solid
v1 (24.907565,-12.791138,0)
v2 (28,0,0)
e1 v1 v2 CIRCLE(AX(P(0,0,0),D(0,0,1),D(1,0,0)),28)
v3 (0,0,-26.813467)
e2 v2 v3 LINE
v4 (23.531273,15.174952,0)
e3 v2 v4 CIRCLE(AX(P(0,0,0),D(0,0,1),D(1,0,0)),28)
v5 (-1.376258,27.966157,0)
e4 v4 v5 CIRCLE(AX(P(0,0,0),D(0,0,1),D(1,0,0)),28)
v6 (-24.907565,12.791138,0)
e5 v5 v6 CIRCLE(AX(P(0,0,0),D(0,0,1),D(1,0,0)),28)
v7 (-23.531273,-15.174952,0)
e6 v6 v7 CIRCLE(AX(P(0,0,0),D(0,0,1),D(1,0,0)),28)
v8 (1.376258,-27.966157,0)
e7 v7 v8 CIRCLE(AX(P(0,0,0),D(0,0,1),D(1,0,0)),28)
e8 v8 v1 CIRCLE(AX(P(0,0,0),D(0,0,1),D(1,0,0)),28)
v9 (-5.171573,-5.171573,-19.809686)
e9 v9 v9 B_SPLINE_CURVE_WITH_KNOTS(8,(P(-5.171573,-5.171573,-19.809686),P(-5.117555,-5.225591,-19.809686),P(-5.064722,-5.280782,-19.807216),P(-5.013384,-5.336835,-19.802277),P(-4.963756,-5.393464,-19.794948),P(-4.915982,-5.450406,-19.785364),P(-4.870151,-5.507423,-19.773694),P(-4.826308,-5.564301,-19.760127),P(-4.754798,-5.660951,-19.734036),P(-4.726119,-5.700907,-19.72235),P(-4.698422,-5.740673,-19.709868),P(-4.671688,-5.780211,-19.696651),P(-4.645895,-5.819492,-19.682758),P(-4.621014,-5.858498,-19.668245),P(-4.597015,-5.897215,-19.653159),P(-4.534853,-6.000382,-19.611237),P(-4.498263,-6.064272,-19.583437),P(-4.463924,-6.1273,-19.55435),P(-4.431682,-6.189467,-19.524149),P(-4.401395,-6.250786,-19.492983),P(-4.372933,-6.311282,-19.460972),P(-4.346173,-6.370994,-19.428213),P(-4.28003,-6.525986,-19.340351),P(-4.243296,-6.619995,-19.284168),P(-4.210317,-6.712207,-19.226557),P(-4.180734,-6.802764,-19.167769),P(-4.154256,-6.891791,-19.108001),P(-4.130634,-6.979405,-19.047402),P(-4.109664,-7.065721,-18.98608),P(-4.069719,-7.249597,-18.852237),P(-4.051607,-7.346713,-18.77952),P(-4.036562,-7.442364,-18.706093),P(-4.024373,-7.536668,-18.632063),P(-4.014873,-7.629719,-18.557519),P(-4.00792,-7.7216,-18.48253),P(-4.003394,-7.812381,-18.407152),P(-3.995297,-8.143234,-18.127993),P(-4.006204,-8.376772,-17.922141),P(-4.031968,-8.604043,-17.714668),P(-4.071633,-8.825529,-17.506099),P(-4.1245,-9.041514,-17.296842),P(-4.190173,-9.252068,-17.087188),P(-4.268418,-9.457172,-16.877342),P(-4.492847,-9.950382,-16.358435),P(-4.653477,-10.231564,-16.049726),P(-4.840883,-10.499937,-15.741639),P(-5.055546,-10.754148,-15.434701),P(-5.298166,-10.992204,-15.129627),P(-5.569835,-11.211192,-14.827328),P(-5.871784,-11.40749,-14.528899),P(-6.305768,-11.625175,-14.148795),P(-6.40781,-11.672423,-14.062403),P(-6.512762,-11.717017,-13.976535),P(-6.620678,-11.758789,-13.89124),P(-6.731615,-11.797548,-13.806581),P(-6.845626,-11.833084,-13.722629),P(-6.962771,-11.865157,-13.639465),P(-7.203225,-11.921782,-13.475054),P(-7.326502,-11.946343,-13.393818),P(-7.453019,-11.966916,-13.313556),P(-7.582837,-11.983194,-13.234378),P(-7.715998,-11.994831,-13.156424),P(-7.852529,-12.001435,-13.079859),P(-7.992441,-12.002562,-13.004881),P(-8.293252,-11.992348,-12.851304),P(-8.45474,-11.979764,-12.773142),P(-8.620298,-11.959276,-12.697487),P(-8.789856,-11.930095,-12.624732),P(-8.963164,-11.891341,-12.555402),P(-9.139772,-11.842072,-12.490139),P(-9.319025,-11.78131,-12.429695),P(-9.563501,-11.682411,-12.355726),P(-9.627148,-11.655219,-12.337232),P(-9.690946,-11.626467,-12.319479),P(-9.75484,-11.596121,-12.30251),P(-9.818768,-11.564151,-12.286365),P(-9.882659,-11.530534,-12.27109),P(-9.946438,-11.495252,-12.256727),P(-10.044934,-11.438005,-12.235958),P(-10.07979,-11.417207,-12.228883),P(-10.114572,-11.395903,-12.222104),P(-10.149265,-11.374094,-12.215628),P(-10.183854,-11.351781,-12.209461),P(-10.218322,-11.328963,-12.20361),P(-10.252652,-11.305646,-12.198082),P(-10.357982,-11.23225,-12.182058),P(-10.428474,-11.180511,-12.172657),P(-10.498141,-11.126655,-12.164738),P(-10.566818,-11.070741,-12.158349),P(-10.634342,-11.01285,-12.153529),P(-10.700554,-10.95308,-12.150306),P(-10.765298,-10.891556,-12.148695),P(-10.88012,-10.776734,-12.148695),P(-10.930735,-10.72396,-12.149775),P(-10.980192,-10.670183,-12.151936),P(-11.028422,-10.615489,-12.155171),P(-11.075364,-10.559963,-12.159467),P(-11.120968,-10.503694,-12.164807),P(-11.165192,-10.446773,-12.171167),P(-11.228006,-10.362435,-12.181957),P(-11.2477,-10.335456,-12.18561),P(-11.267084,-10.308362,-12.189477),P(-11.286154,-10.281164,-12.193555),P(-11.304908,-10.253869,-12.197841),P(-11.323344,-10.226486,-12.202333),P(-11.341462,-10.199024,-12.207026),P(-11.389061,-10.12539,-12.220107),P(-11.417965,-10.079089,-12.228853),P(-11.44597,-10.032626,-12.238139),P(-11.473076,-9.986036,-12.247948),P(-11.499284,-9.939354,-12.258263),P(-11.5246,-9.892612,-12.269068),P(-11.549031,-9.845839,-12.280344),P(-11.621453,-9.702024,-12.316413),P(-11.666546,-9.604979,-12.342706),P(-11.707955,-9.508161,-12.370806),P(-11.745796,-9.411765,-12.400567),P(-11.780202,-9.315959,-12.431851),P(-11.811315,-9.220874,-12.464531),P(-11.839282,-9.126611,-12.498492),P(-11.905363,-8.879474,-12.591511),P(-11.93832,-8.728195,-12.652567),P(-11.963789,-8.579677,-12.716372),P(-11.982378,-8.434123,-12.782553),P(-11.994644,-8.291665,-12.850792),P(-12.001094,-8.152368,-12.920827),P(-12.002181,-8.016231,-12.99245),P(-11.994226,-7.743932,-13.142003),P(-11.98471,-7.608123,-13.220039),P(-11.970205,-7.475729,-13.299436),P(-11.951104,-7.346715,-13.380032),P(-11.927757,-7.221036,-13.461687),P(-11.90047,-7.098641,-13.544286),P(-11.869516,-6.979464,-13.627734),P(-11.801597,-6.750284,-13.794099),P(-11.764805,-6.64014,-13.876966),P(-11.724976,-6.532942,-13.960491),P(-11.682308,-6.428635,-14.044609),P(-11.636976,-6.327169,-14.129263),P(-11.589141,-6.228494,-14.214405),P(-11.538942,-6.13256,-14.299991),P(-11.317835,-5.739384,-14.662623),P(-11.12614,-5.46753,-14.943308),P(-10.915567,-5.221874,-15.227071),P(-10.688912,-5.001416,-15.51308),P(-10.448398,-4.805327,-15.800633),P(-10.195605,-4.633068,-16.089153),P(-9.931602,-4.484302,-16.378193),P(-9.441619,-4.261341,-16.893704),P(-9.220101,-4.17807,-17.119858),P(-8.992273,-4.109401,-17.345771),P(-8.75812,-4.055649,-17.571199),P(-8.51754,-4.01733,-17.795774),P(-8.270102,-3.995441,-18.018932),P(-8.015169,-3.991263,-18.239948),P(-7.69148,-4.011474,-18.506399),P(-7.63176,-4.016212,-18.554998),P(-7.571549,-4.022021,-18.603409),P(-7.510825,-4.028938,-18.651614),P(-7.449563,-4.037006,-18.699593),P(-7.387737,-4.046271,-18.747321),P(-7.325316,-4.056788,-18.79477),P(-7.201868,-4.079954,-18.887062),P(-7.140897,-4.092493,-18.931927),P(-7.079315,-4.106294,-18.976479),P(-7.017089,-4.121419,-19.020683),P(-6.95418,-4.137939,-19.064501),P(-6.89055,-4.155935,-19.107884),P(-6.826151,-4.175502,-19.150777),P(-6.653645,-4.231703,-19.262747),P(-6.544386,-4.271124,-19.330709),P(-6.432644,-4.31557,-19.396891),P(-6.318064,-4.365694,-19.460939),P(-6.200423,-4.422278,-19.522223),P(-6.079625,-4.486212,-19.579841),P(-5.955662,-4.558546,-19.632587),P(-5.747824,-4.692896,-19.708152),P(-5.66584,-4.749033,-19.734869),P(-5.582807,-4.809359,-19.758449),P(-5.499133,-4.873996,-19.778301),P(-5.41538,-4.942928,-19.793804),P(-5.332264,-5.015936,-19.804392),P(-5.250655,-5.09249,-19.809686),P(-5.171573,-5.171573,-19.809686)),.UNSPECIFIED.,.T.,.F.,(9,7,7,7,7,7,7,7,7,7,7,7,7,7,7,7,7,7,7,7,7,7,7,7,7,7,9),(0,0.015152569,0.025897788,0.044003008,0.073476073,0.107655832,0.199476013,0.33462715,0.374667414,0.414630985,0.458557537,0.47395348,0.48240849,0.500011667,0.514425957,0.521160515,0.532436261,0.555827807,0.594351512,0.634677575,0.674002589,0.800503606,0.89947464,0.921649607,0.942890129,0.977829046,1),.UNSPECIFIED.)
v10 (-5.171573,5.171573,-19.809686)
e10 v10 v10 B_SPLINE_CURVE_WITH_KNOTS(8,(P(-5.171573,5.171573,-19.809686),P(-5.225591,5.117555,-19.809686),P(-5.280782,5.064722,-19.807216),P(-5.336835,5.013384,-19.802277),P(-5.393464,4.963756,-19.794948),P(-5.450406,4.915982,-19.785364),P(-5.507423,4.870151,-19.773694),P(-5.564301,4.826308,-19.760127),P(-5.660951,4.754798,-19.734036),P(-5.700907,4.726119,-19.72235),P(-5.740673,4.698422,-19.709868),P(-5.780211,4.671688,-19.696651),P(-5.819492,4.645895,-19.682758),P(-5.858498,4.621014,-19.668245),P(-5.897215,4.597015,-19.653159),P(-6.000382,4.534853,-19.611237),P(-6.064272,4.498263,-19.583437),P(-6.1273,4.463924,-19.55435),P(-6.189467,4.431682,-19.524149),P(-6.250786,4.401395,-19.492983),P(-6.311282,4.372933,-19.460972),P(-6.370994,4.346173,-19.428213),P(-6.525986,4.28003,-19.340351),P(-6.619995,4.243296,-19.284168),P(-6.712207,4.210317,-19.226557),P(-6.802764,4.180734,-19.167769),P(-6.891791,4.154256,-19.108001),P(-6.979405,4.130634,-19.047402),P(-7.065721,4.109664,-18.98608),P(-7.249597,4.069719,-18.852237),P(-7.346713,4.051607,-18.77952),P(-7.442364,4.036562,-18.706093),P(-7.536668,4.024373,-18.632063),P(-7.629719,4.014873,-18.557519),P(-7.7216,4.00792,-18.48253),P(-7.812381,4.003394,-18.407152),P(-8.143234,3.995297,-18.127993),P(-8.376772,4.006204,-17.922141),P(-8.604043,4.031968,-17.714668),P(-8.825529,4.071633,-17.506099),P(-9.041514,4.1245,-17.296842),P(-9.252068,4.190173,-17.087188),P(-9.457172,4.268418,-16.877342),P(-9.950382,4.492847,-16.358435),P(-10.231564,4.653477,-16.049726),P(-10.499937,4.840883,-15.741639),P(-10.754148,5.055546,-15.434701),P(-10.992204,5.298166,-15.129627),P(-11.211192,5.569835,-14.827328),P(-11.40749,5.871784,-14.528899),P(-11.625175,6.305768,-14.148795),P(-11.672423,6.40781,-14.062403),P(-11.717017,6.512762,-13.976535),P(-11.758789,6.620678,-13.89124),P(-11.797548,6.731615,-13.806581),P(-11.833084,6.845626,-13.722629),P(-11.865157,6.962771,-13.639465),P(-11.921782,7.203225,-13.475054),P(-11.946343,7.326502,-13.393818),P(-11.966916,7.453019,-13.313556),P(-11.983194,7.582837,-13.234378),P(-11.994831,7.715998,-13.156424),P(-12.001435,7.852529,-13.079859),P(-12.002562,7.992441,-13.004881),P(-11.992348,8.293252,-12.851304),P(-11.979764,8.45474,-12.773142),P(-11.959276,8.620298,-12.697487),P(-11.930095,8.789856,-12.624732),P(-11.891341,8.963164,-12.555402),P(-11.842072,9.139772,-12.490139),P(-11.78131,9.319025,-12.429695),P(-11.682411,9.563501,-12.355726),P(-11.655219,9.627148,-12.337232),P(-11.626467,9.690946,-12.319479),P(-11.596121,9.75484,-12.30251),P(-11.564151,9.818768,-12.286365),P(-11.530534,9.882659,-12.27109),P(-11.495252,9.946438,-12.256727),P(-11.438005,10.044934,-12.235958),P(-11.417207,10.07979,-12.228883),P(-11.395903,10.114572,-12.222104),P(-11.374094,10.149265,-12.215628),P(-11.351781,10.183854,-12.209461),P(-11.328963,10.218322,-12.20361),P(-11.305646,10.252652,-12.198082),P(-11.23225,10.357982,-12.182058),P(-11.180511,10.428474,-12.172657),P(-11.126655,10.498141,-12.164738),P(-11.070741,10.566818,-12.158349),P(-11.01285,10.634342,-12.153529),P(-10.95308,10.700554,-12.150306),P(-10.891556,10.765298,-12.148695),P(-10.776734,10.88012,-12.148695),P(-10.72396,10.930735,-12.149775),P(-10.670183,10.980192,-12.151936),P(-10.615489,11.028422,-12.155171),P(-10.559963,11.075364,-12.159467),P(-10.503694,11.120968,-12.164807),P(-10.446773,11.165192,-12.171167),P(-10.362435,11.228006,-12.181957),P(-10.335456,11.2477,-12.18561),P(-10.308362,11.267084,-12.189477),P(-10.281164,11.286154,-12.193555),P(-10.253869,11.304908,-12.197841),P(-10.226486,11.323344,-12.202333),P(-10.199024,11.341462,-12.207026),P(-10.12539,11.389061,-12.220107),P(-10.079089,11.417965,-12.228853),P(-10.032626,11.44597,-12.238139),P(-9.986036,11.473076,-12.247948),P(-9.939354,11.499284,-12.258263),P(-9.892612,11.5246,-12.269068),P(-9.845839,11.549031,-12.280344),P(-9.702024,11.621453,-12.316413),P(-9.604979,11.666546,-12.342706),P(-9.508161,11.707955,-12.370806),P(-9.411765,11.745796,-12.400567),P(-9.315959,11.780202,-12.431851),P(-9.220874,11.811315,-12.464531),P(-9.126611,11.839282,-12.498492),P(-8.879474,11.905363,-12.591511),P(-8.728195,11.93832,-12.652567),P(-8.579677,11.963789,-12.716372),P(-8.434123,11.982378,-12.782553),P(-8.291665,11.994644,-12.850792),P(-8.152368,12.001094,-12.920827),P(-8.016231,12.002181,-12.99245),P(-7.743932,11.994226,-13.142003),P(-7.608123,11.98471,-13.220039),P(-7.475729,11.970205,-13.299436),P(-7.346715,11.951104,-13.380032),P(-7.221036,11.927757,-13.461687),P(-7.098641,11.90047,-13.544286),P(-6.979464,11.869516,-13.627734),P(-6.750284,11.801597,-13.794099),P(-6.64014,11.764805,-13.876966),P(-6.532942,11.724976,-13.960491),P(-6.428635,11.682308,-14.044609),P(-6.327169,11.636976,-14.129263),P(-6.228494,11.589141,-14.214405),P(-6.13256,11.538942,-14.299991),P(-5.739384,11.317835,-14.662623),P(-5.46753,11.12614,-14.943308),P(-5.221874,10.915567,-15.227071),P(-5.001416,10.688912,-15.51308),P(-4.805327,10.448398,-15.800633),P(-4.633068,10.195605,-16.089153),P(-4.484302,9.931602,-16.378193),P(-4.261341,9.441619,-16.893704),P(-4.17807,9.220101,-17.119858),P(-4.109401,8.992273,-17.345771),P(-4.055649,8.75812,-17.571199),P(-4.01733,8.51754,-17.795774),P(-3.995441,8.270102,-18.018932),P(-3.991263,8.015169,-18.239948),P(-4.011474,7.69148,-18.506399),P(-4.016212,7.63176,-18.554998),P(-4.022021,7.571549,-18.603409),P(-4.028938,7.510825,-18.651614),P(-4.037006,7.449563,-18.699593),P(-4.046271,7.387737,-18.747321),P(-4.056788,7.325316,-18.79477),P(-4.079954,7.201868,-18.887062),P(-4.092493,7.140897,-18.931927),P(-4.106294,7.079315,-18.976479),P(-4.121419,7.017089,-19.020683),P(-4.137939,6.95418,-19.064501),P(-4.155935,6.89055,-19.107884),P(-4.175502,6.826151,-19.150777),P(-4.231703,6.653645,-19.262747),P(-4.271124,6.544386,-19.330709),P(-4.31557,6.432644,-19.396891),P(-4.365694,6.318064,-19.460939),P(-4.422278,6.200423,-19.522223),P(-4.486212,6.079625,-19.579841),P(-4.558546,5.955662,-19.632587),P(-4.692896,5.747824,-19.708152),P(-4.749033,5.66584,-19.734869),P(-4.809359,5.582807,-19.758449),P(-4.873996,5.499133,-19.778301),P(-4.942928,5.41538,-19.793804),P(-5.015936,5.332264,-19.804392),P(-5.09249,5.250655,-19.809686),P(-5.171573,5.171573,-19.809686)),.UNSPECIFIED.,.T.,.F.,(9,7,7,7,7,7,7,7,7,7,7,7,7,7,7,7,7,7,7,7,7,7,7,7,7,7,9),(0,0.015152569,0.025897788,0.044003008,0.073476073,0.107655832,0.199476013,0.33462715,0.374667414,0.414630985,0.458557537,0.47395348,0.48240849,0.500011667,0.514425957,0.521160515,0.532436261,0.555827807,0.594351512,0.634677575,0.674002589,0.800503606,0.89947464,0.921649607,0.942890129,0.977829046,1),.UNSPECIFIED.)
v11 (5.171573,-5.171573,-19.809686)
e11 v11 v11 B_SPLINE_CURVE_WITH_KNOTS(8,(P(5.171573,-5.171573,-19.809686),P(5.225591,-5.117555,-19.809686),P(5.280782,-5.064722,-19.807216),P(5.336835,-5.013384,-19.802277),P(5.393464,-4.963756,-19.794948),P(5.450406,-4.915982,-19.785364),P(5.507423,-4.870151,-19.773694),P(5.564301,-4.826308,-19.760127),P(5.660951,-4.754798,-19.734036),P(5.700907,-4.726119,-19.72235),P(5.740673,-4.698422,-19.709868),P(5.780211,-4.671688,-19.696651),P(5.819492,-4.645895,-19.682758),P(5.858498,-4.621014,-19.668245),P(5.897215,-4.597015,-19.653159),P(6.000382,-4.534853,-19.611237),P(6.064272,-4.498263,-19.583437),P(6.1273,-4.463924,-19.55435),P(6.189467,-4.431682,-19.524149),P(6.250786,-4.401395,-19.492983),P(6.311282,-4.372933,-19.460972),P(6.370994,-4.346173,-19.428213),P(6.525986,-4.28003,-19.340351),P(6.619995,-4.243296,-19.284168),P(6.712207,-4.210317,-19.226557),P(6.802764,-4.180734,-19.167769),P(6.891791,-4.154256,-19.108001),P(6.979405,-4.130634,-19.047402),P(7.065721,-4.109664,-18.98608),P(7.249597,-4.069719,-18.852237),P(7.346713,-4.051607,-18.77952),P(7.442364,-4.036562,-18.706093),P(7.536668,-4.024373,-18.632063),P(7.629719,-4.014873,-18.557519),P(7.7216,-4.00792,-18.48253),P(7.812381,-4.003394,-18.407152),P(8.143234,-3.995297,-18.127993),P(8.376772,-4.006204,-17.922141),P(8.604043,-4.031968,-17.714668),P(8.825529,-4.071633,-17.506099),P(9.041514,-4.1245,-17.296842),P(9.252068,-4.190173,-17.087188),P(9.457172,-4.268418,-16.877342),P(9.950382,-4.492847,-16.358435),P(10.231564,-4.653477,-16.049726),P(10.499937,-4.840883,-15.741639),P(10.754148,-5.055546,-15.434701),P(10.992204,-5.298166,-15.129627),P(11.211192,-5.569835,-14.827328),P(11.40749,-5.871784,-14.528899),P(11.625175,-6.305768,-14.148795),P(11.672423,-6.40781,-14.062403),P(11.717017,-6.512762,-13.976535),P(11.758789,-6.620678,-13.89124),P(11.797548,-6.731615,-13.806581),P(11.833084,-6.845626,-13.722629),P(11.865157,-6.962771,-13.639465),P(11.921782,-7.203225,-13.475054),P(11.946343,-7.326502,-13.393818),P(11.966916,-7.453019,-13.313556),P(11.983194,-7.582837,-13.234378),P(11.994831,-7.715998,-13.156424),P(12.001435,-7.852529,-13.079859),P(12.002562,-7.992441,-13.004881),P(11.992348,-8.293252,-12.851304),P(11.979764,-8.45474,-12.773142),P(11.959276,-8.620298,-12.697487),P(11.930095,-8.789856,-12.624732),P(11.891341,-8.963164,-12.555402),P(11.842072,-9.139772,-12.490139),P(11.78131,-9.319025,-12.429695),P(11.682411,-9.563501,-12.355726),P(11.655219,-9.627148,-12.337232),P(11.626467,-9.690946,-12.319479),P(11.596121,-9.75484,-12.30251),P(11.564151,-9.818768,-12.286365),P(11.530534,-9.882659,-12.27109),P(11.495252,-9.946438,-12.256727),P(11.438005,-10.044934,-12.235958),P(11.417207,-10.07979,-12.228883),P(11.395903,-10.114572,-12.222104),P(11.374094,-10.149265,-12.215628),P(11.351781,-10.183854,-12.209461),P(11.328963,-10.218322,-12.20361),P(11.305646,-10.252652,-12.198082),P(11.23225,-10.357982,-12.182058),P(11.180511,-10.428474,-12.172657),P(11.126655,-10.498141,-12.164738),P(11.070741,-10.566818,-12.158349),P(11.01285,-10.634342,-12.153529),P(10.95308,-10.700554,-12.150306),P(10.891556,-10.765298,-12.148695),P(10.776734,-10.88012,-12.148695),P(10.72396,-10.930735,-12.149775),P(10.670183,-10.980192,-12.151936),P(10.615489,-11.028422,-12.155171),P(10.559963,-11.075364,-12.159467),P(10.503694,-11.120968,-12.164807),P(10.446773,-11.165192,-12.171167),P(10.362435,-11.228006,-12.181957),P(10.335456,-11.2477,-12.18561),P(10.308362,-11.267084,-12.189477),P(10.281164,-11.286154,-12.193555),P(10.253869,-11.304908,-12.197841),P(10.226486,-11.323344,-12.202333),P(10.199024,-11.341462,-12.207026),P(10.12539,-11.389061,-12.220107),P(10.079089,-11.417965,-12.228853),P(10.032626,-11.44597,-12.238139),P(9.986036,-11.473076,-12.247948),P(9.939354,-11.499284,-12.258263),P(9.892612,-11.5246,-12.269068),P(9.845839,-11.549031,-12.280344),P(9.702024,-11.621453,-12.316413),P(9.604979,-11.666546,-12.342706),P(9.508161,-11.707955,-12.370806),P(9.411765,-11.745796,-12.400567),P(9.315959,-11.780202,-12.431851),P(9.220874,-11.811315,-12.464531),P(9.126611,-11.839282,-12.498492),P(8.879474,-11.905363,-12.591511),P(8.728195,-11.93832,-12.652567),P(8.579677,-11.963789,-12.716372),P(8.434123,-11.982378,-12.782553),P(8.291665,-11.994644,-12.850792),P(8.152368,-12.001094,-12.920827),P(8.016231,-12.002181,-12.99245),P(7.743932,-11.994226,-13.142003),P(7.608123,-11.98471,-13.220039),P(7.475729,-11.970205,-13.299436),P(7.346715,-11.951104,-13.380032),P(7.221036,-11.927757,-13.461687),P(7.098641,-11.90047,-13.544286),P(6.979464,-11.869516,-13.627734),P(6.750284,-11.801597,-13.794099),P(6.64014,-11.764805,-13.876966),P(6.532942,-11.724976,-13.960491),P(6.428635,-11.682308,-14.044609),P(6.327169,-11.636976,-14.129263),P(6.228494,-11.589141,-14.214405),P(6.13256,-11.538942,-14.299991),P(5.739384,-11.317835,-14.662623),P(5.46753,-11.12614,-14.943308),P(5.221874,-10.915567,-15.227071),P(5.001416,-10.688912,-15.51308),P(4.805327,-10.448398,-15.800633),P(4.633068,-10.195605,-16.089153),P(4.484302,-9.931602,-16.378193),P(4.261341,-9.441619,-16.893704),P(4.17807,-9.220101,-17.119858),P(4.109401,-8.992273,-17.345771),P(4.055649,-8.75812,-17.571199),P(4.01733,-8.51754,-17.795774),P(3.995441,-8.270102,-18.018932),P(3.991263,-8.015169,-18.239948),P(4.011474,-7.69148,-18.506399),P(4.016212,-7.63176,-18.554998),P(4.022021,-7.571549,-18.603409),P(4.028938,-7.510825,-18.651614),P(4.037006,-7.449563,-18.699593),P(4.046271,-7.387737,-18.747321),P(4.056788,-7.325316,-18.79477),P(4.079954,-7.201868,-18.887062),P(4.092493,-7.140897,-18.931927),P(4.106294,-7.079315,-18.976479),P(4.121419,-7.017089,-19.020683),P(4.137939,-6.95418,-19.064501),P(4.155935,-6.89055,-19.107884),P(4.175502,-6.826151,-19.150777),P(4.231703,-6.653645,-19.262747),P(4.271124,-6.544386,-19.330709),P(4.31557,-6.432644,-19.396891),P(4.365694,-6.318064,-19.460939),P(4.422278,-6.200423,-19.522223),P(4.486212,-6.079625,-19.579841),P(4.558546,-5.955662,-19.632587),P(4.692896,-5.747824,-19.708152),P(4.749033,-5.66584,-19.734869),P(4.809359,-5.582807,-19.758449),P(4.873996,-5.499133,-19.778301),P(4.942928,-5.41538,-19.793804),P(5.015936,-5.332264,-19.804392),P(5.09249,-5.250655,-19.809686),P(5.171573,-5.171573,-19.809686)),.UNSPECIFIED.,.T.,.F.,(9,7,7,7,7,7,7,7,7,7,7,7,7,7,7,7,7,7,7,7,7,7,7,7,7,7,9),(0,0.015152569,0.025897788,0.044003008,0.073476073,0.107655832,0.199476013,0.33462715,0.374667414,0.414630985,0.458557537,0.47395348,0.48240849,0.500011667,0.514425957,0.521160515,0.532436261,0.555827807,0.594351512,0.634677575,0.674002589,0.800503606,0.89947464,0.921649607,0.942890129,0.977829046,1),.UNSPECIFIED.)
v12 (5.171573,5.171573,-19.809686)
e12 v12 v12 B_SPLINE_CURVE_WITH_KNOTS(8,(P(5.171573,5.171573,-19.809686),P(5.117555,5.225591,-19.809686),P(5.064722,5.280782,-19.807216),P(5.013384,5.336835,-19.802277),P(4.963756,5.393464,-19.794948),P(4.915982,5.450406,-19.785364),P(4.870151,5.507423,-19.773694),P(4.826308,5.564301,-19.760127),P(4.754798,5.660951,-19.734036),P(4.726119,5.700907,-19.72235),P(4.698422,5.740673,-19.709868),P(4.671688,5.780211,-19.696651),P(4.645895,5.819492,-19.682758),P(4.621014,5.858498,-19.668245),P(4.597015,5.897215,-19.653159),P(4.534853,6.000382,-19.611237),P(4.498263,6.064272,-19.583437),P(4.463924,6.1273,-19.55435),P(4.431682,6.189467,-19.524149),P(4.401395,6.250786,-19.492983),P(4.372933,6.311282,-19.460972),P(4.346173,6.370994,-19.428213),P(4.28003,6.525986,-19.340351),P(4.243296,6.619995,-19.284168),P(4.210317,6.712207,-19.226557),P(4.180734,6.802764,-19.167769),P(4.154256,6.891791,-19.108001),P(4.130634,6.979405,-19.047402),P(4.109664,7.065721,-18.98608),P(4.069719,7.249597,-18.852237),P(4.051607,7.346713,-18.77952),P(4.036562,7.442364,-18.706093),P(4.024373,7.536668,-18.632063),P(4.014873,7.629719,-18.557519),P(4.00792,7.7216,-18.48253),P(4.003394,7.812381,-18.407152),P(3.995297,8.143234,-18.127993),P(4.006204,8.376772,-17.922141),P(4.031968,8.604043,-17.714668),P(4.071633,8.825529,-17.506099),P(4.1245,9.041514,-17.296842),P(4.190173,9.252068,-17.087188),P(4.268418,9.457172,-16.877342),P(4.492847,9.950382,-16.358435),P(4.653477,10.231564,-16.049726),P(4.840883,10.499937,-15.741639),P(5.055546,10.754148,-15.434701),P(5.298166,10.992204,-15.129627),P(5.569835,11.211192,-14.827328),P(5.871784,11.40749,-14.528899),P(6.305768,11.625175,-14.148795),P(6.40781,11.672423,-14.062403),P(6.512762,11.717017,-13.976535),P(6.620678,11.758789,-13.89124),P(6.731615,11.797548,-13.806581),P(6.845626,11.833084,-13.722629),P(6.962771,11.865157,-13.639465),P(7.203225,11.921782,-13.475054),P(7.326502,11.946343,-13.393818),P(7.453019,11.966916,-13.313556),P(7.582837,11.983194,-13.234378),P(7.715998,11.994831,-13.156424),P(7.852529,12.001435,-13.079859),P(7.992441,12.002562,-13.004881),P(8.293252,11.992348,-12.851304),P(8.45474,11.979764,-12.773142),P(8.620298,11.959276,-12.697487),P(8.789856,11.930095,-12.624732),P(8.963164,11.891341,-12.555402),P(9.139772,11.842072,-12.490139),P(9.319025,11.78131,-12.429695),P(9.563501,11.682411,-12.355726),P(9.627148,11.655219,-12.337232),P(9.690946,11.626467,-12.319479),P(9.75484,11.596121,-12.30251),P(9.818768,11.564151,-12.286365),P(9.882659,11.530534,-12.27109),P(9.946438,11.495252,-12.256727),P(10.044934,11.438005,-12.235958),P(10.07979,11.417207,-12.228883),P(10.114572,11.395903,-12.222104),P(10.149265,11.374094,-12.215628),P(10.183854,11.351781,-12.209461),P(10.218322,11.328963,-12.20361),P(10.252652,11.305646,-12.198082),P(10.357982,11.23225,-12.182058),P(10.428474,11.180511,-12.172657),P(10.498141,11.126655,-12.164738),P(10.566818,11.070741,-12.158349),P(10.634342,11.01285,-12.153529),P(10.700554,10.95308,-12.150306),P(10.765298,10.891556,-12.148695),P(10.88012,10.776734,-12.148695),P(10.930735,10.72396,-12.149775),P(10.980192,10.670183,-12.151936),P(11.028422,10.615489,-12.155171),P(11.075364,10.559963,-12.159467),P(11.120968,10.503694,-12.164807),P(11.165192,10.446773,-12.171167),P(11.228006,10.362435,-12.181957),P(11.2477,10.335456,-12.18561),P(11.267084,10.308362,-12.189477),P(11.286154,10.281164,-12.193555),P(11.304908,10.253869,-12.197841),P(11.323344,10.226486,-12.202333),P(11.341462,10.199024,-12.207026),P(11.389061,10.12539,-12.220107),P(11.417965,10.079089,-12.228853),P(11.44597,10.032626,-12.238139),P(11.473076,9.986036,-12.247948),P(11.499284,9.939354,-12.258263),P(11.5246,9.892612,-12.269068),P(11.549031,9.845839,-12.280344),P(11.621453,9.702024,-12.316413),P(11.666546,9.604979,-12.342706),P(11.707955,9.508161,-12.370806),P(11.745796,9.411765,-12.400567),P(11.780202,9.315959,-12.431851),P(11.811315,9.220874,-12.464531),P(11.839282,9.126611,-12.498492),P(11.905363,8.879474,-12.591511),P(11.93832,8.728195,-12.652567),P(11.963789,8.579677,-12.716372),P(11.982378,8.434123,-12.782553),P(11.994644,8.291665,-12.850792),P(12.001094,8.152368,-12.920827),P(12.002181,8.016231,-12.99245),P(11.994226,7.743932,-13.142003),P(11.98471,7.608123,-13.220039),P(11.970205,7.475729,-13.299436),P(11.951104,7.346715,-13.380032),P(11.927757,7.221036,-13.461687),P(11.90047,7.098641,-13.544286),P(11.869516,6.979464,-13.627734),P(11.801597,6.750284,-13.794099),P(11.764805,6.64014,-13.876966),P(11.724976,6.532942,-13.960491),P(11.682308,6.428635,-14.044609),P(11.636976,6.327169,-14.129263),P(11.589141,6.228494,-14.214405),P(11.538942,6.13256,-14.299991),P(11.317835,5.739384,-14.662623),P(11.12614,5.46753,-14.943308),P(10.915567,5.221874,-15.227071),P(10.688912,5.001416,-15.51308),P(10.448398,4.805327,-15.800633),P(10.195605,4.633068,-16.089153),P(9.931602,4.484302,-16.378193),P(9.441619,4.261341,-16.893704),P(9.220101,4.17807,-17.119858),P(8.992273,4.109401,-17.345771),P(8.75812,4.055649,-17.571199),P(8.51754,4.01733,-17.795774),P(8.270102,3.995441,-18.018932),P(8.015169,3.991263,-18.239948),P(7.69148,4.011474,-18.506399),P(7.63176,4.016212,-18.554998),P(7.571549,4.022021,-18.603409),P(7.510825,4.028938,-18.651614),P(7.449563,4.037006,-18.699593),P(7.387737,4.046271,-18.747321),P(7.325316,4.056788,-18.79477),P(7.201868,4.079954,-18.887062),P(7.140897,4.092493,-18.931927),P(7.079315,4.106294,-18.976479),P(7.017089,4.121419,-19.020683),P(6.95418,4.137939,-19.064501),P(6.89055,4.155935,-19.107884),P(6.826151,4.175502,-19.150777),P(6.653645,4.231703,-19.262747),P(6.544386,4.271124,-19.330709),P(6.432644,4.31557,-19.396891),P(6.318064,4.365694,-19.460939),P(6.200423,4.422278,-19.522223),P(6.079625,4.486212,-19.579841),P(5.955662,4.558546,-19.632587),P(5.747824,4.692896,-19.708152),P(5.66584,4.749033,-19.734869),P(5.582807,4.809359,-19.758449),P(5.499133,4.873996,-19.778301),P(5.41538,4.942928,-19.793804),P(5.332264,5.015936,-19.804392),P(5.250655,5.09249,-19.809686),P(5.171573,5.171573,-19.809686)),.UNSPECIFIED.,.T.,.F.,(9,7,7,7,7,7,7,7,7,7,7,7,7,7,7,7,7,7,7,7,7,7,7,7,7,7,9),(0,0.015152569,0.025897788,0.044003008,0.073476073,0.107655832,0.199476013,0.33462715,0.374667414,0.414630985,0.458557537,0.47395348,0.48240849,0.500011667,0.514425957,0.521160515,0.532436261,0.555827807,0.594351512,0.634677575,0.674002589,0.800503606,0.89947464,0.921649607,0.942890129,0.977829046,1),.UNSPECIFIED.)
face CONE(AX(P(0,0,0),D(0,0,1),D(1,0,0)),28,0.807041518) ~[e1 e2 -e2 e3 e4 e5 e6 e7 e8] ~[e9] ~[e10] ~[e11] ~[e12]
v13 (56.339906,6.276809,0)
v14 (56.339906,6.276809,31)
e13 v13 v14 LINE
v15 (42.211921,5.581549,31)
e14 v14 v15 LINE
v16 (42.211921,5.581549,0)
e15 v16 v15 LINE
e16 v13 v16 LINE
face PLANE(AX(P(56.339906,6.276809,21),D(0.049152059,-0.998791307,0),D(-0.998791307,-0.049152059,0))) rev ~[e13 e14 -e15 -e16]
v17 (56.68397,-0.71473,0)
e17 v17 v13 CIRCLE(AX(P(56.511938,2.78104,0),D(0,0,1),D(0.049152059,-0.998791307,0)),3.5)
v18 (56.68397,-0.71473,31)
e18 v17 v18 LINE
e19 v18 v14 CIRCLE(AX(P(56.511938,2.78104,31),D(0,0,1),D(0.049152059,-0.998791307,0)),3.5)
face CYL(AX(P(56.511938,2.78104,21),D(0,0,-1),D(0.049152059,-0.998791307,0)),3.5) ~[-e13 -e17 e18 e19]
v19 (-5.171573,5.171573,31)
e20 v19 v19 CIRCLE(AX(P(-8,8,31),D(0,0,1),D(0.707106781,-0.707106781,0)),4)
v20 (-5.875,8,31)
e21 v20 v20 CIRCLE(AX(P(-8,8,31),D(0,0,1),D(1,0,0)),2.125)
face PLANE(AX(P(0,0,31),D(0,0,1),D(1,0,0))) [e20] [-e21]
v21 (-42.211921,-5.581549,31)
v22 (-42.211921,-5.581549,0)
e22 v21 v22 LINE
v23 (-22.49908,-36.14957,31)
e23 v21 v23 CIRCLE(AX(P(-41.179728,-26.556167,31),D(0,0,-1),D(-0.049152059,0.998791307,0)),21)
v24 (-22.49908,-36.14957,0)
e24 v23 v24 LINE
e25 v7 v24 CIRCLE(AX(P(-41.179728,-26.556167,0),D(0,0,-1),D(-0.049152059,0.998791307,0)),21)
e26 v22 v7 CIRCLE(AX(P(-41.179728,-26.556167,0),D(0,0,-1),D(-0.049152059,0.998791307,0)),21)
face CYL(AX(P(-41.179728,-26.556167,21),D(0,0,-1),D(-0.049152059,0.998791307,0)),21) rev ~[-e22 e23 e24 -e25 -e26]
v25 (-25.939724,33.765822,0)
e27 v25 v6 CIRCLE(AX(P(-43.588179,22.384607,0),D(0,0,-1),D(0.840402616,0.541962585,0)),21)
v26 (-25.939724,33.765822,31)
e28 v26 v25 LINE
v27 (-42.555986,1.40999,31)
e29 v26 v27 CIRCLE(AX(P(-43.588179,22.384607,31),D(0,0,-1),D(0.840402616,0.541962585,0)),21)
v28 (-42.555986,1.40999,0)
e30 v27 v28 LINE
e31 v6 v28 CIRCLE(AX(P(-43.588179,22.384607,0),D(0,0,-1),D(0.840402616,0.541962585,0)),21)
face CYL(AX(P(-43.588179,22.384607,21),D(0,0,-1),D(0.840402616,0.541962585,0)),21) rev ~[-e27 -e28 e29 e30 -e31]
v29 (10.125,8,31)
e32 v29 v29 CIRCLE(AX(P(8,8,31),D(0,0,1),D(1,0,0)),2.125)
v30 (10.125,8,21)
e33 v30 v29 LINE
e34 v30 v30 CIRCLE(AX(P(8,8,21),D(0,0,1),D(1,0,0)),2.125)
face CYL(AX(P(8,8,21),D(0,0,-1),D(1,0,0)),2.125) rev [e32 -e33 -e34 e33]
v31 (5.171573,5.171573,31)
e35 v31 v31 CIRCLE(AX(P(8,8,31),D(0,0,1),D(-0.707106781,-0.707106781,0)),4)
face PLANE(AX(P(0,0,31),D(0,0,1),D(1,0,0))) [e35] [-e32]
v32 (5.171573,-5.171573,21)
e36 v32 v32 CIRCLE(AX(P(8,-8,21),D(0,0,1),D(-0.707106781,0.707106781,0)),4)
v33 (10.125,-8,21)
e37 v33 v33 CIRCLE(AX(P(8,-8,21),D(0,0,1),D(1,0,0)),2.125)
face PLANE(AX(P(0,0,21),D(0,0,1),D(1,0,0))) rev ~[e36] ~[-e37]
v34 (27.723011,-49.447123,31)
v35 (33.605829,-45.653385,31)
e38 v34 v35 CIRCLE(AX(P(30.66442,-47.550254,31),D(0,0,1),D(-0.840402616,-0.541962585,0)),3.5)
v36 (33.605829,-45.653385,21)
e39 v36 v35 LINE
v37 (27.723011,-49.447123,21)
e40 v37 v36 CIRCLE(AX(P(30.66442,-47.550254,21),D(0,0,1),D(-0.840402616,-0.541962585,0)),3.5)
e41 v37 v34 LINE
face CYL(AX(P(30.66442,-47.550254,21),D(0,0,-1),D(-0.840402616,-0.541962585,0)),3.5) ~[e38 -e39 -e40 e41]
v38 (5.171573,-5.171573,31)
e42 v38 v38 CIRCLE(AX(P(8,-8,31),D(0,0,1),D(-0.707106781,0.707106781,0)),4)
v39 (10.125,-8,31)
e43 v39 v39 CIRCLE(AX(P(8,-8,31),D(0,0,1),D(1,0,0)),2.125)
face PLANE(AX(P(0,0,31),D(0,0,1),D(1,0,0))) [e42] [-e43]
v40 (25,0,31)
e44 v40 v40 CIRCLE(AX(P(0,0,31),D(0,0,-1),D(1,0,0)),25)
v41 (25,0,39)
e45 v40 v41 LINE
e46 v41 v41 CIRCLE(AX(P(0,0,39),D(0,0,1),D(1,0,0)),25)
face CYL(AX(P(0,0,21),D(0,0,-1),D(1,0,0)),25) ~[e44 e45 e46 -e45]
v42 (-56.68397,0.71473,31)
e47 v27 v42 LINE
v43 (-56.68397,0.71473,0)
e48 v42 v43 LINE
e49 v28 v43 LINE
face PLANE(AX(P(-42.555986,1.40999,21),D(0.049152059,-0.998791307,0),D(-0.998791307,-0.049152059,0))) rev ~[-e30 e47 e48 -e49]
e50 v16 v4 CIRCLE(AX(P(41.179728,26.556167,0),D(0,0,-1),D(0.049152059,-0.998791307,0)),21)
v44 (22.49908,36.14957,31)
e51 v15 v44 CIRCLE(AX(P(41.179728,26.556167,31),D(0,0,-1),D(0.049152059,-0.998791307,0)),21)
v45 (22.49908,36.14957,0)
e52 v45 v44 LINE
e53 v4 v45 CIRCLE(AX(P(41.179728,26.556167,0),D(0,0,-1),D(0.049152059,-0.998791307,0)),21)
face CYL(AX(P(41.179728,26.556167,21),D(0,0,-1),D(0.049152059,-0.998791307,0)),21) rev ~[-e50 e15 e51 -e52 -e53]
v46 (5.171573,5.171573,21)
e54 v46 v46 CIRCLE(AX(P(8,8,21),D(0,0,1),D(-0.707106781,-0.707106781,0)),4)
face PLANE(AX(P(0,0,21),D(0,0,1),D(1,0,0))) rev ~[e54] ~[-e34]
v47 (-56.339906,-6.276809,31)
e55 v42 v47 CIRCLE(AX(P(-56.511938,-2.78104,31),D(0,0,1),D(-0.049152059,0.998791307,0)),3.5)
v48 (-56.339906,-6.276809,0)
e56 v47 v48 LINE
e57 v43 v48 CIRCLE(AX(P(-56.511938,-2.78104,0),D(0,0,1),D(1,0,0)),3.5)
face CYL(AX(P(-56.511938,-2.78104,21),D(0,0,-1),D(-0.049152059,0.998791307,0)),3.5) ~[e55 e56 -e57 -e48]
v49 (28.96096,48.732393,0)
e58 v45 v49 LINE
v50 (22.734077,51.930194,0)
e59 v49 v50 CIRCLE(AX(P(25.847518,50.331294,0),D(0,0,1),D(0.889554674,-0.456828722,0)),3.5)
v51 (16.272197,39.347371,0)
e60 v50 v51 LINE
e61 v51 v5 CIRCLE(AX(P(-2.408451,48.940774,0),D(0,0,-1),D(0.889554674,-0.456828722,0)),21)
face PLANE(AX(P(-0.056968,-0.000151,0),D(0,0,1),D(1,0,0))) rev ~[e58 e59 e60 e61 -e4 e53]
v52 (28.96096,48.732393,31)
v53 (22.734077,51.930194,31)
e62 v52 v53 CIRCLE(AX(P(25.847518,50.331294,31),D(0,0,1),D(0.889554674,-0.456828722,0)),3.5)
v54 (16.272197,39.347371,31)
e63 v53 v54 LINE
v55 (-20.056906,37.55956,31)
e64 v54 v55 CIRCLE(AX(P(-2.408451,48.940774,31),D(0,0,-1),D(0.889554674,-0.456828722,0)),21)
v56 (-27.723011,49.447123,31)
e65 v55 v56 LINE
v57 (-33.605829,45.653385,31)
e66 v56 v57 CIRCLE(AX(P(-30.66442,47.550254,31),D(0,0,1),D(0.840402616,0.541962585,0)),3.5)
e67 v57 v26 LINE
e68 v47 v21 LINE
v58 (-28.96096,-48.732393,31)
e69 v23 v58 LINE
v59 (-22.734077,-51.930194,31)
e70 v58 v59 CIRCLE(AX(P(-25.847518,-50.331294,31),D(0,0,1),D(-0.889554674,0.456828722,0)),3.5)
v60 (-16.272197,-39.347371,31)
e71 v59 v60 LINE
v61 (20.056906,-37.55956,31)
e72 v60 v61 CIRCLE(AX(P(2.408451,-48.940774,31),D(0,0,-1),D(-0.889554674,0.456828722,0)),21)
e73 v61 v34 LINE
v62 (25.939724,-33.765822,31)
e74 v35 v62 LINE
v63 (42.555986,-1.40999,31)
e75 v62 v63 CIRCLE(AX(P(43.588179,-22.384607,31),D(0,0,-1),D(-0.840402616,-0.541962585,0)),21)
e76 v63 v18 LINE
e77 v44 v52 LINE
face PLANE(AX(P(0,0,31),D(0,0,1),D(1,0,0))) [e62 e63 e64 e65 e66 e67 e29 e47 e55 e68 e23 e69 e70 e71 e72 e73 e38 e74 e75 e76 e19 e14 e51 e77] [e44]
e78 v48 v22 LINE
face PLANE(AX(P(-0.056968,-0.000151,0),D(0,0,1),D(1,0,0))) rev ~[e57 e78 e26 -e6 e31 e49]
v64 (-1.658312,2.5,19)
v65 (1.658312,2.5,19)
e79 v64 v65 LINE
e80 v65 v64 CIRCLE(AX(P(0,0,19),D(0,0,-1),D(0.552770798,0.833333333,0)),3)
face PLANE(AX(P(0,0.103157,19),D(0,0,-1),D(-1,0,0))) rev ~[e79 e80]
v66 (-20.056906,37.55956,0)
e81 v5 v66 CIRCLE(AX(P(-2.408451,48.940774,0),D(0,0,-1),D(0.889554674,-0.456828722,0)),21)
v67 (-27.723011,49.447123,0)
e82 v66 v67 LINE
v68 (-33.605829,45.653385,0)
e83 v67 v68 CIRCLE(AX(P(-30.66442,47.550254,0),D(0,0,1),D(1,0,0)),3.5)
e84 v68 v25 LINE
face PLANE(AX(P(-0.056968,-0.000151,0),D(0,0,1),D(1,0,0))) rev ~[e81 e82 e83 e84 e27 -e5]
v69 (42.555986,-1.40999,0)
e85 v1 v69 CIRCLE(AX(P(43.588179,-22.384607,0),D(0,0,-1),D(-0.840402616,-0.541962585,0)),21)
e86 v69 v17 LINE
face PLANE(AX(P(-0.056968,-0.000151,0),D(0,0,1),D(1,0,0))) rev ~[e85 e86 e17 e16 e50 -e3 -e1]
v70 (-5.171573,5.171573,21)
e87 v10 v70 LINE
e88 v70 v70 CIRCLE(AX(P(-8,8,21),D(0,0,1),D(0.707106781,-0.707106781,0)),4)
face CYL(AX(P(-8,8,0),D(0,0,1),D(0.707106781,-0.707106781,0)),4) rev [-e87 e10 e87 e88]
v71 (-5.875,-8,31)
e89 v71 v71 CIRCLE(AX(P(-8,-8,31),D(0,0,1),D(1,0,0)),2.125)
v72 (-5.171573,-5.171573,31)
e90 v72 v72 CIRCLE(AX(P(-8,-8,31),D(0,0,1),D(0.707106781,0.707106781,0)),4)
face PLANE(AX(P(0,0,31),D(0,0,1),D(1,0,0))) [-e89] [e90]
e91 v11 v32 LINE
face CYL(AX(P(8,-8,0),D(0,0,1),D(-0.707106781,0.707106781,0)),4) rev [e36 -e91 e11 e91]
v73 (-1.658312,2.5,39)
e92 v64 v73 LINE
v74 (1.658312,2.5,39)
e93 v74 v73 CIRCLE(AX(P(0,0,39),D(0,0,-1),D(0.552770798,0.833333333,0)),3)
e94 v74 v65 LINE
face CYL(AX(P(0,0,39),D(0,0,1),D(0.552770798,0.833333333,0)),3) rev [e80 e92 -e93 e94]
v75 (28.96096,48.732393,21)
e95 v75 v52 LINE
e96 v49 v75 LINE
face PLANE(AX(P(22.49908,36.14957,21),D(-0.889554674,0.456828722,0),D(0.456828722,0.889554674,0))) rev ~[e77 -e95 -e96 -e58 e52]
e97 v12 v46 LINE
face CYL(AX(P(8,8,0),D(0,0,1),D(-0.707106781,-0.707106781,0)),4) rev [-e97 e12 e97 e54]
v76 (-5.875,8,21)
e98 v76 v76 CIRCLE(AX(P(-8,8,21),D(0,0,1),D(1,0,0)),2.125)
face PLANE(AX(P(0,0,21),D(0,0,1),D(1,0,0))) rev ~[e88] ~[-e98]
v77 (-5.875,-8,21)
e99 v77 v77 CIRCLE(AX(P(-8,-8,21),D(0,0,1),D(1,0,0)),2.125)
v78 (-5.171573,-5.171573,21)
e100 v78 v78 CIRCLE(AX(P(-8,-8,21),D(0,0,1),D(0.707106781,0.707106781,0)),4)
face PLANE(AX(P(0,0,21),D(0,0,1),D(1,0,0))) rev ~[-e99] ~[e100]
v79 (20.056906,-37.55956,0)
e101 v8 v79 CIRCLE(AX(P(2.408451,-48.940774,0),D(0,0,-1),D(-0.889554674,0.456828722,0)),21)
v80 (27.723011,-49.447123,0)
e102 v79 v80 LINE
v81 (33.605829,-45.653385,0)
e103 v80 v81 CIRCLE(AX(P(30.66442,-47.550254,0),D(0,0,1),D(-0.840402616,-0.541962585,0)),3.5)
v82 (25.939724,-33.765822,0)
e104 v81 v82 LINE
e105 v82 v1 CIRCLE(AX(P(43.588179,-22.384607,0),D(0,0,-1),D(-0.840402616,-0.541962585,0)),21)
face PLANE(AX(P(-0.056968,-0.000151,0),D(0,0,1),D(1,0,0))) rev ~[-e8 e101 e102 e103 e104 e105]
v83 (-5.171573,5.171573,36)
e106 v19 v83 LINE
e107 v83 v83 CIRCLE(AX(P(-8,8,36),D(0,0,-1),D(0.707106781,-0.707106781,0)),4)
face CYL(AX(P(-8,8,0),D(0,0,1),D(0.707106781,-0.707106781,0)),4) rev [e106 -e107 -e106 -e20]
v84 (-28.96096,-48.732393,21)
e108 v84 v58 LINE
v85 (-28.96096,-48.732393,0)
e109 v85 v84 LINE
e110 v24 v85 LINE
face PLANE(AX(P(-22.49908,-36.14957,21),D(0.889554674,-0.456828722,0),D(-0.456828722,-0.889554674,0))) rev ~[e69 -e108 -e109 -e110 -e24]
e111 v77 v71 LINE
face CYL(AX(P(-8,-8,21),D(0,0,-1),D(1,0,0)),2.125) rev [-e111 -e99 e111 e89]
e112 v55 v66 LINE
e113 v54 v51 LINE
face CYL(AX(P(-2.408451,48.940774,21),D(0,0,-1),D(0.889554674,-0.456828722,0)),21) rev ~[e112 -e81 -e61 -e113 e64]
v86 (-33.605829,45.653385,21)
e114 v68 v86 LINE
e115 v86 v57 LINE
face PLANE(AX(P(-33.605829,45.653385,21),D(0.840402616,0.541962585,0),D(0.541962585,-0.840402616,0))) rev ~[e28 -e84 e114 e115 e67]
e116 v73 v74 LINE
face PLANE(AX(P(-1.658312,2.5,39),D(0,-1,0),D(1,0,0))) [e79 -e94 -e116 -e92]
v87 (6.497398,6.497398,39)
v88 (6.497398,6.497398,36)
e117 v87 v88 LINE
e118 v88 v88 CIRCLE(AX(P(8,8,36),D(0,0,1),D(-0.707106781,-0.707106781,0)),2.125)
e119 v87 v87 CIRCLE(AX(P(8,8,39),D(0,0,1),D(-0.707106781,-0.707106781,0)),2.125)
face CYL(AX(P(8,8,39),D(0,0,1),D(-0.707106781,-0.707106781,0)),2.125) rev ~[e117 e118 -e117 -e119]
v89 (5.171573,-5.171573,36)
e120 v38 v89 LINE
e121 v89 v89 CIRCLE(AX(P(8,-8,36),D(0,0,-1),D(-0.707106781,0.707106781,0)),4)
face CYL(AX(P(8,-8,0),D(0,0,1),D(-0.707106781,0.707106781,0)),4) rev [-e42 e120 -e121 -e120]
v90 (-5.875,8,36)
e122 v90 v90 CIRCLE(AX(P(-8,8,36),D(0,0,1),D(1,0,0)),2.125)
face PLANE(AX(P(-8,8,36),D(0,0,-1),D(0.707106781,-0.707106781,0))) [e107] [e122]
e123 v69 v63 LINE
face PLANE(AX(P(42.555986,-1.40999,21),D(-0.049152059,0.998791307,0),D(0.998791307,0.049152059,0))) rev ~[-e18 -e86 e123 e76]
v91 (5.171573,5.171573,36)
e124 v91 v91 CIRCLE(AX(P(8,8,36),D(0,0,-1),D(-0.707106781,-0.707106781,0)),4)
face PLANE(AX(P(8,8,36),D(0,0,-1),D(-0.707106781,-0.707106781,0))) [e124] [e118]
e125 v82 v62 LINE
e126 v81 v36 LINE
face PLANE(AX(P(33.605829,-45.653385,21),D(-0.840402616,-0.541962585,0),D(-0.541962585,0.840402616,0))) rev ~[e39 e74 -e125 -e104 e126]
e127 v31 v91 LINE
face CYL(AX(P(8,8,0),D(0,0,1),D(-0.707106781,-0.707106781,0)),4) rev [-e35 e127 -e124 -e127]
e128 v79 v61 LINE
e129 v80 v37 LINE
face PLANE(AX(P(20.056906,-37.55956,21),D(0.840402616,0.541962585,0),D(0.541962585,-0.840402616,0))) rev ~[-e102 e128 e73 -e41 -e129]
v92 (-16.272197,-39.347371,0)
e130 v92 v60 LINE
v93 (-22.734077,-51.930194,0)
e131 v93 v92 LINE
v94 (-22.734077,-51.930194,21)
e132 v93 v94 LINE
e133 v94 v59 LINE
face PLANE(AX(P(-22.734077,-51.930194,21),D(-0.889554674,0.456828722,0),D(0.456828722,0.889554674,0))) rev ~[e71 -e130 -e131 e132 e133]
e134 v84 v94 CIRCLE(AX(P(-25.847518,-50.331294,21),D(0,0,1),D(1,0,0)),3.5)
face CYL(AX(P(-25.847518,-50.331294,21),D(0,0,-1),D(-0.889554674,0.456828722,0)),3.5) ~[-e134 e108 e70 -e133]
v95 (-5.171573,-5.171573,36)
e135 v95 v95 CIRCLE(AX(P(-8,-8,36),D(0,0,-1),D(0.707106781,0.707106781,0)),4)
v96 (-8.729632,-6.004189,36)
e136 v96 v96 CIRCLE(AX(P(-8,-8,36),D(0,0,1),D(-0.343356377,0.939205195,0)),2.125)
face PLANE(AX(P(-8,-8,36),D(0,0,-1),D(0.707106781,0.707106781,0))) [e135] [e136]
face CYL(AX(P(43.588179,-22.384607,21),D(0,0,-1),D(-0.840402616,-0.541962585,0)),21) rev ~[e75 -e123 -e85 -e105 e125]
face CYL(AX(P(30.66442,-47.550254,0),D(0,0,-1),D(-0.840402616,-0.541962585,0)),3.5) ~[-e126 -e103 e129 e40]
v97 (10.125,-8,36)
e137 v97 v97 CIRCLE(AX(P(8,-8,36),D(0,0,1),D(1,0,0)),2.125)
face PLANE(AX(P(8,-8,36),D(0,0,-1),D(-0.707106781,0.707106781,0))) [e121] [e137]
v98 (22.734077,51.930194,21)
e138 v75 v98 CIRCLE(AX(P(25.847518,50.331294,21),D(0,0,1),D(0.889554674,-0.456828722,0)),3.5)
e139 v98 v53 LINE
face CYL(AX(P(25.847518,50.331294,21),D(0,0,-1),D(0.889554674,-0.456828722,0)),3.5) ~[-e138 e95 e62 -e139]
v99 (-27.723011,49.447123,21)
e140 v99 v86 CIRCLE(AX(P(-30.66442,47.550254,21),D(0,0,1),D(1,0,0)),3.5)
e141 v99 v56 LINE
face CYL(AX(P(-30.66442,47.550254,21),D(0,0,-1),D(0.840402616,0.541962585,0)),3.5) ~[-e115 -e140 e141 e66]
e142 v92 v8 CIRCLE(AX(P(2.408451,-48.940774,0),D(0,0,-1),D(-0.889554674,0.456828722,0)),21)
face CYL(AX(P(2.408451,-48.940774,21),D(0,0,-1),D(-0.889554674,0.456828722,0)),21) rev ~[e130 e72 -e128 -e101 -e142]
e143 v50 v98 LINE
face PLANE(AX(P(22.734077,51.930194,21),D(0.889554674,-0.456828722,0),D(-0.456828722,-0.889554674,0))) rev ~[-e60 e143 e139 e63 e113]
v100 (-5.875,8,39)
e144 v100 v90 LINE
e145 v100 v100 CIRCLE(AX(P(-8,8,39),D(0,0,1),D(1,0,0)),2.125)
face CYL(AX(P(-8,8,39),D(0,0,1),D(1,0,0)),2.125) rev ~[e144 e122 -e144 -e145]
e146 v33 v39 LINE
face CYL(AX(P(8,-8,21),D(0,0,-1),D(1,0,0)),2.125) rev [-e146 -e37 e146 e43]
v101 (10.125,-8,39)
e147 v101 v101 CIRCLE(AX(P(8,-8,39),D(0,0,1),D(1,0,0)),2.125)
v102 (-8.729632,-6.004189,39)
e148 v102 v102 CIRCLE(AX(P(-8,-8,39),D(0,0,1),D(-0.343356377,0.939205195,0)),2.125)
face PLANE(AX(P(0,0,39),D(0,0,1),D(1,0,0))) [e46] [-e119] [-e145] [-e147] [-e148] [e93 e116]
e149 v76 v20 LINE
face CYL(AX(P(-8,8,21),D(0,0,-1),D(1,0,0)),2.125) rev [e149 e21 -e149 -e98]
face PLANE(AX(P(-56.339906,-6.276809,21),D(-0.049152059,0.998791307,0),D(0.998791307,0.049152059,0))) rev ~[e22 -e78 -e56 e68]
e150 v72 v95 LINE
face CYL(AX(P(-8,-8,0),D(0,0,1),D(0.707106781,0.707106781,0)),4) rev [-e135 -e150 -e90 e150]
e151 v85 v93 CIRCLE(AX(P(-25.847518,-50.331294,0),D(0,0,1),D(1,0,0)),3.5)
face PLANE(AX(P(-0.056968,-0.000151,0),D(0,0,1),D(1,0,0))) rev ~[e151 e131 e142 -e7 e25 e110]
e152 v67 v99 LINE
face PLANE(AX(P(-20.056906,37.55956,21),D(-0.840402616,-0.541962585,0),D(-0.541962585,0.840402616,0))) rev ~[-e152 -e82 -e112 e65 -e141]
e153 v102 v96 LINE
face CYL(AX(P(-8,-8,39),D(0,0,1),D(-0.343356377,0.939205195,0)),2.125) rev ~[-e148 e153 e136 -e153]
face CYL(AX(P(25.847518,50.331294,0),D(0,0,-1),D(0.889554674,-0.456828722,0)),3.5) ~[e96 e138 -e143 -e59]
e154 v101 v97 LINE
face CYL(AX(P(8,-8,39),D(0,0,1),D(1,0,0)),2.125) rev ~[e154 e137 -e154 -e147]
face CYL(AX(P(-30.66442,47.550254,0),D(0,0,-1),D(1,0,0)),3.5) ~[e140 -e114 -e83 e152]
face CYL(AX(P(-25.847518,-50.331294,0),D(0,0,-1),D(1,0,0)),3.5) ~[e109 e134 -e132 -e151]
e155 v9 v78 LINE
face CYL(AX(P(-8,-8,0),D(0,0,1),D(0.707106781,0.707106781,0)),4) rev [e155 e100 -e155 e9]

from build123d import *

# Parameters (mm, degrees)
SKETCH1_R                      = 3.5
BOSS_EXTRUDE1_DEPTH            = 21
SKETCH4_R                      = 25
BOSS_EXTRUDE2_DEPTH            = 18
CUT_EXTRUDE2_DEPTH             = 20
SKETCH7_R                      = 2.125
CUT_EXTRUDE3_DEPTH             = 105.070425208
SKETCH9_R                      = 4
CUT_EXTRUDE4_DEPTH             = 36
CUT_EXTRUDE4_DIRECTION_2_REACH = 91.556
SKETCH10_R                     = 2.125
BOSS_EXTRUDE3_DEPTH            = 10


with BuildPart() as part:
    # Sketch1 → Boss-Extrude1 (new body)
    with BuildSketch(Plane.XY):
        with BuildLine():
            ThreePointArc((-27.16441994, 47.550254291), (-29.67571676, 44.192804958), (-33.605829095, 45.653385243))
            Line((-33.605829095, 45.653385243), (-25.93972411, 33.765821671))
            ThreePointArc((-25.93972411, 33.765821671), (-24.90753088, 12.791204222), (-42.555985811, 1.409989939))
            Line((-42.555985811, 1.409989939), (-56.683970347, 0.71473006))
            ThreePointArc((-56.683970347, 0.71473006), (-54.098653318, -0.246072778), (-53.011938142, -2.781039515))
            ThreePointArc((-53.011938142, -2.781039515), (-53.976971405, -5.194324339), (-56.339905937, -6.27680909))
            Line((-56.339905937, -6.27680909), (-42.211921401, -5.581549211))
            ThreePointArc((-42.211921401, -5.581549211), (-23.531273241, -15.174952377), (-22.499080012, -36.149569826))
            Line((-22.499080012, -36.149569826), (-28.960959562, -48.732393278))
            ThreePointArc((-28.960959562, -48.732393278), (-25.025035607, -46.929305801), (-22.347518202, -50.331293805))
            ThreePointArc((-22.347518202, -50.331293805), (-22.445530198, -51.153776401), (-22.734076842, -51.930194333))
            Line((-22.734076842, -51.930194333), (-16.272197292, -39.347370882))
            ThreePointArc((-16.272197292, -39.347370882), (1.376257639, -27.966156599), (20.0569058, -37.559559765))
            Line((20.0569058, -37.559559765), (27.723010785, -49.447123338))
            ThreePointArc((27.723010785, -49.447123338), (28.767550893, -44.608845135), (33.605829095, -45.653385243))
            Line((33.605829095, -45.653385243), (25.93972411, -33.765821671))
            ThreePointArc((25.93972411, -33.765821671), (24.90753088, -12.791204222), (42.555985811, -1.409989939))
            Line((42.555985811, -1.409989939), (56.683970347, -0.71473006))
            ThreePointArc((56.683970347, -0.71473006), (53.016168567, 2.60900731), (56.339905937, 6.27680909))
            Line((56.339905937, 6.27680909), (42.211921401, 5.581549211))
            ThreePointArc((42.211921401, 5.581549211), (23.531273241, 15.174952377), (22.499080012, 36.149569826))
            Line((22.499080012, 36.149569826), (28.960959562, 48.732393278))
            ThreePointArc((28.960959562, 48.732393278), (24.248617674, 47.217852445), (22.734076842, 51.930194333))
            Line((22.734076842, 51.930194333), (16.272197292, 39.347370882))
            ThreePointArc((16.272197292, 39.347370882), (-1.376257639, 27.966156599), (-20.0569058, 37.559559765))
            Line((-20.0569058, 37.559559765), (-27.723010785, 49.447123338))
            ThreePointArc((-27.723010785, 49.447123338), (-27.306970607, 48.538957471), (-27.16441994, 47.550254291))
        make_face()
        with Locations((-56.511938142, -2.781039515)):
            Circle(SKETCH1_R)
        with Locations((-30.66441994, 47.550254291)):
            Circle(SKETCH1_R)
        with Locations((25.847518202, 50.331293805)):
            Circle(SKETCH1_R)
        with Locations((56.511938142, 2.781039515)):
            Circle(SKETCH1_R)
        with Locations((30.66441994, -47.550254291)):
            Circle(SKETCH1_R)
        with Locations((-25.847518202, -50.331293805)):
            Circle(SKETCH1_R)
    extrude(amount=BOSS_EXTRUDE1_DEPTH)

    # Sketch3 → Revolve1 (revolve)
    with BuildSketch(Plane(origin=(0, 0, 0), x_dir=(-0.9987913071010414, -0.04915205854685543, 0), z_dir=(0.04915205854685543, -0.9987913071010414, 0)), mode=Mode.PRIVATE) as revolve1_sk:
        Polygon((0, 0), (-28, 0), (0, 26.813467396), align=None)
    revolve(revolve1_sk.sketch.rotate(Axis((0, 0, -26.813467396), (0, 0, 1)), 357.182659299), axis=Axis((0, 0, -26.813467396), (0, 0, 1)))

    # Sketch4 → Boss-Extrude2 (add)
    with BuildSketch(Plane.XY.offset(21)):
        Circle(SKETCH4_R)
    extrude(amount=BOSS_EXTRUDE2_DEPTH)

    # Sketch5 → Cut-Extrude2 (cut)
    with BuildSketch(Plane.XY.offset(39)):
        with BuildLine():
            Line((-1.658312395, 2.5), (1.658312395, 2.5))
            ThreePointArc((1.658312395, 2.5), (0, -3), (-1.658312395, 2.5))
        make_face()
    extrude(amount=-CUT_EXTRUDE2_DEPTH, mode=Mode.SUBTRACT)

    # Sketch7 → Cut-Extrude3 (cut, through all)
    with BuildSketch(Plane.XY.offset(39)):
        with Locations((-8, 8)):
            Circle(SKETCH7_R)
        with Locations(Location((8, 8, 0), (0, 0, 225))):
            Circle(SKETCH7_R)
        with Locations((8, -8)):
            Circle(SKETCH7_R)
        with Locations(Location((-8, -8, 0), (0, 0, 110.081495148))):
            Circle(SKETCH7_R)
    extrude(amount=-CUT_EXTRUDE3_DEPTH, mode=Mode.SUBTRACT)

    # Sketch9 → Cut-Extrude4 (cut)
    with BuildSketch(Plane(origin=(0, 0, 0), x_dir=(-1, 0, 0), z_dir=(0, 0, -1))):
        with Locations(Location((-8, 8, 0), (0, 0, 315))):
            Circle(SKETCH9_R)
        with Locations(Location((8, 8, 0), (0, 0, 225))):
            Circle(SKETCH9_R)
        with Locations(Location((8, -8, 0), (0, 0, 135))):
            Circle(SKETCH9_R)
        with Locations(Location((-8, -8, 0), (0, 0, 45))):
            Circle(SKETCH9_R)
    extrude(amount=-CUT_EXTRUDE4_DEPTH, mode=Mode.SUBTRACT)

    # Cut-Extrude4 direction 2: up to this cone (the profile starts inside it)
    cut_extrude4_direction_2_end = Plane(origin=(0, 0, 0), z_dir=(0, 0, 1)).offset(-26.813466396) * Cone(1.044e-06, 153.368642194, 146.869466396, align=(Align.CENTER, Align.CENTER, Align.MIN), mode=Mode.PRIVATE)
    # Sketch9 → Cut-Extrude4 direction 2 (cut, up to the surface)
    with BuildSketch(Plane(origin=(0, 0, 0), x_dir=(-1, 0, 0), z_dir=(0, 0, -1)), mode=Mode.PRIVATE) as cut_extrude4_direction_2_sk1:
        with Locations(Location((-8, 8, 0), (0, 0, 315))):
            Circle(SKETCH9_R)
    cut_extrude4_direction_2_tool1 = extrude(cut_extrude4_direction_2_sk1.sketch, amount=CUT_EXTRUDE4_DIRECTION_2_REACH, mode=Mode.PRIVATE) & cut_extrude4_direction_2_end
    add(cut_extrude4_direction_2_tool1.solids().sort_by_distance((8, 8, 0))[0], mode=Mode.SUBTRACT)
    # Sketch9 → Cut-Extrude4 direction 2 (cut, up to the surface)
    with BuildSketch(Plane(origin=(0, 0, 0), x_dir=(-1, 0, 0), z_dir=(0, 0, -1)), mode=Mode.PRIVATE) as cut_extrude4_direction_2_sk2:
        with Locations(Location((8, 8, 0), (0, 0, 225))):
            Circle(SKETCH9_R)
    cut_extrude4_direction_2_tool2 = extrude(cut_extrude4_direction_2_sk2.sketch, amount=CUT_EXTRUDE4_DIRECTION_2_REACH, mode=Mode.PRIVATE) & cut_extrude4_direction_2_end
    add(cut_extrude4_direction_2_tool2.solids().sort_by_distance((-8, 8, 0))[0], mode=Mode.SUBTRACT)
    # Sketch9 → Cut-Extrude4 direction 2 (cut, up to the surface)
    with BuildSketch(Plane(origin=(0, 0, 0), x_dir=(-1, 0, 0), z_dir=(0, 0, -1)), mode=Mode.PRIVATE) as cut_extrude4_direction_2_sk3:
        with Locations(Location((8, -8, 0), (0, 0, 135))):
            Circle(SKETCH9_R)
    cut_extrude4_direction_2_tool3 = extrude(cut_extrude4_direction_2_sk3.sketch, amount=CUT_EXTRUDE4_DIRECTION_2_REACH, mode=Mode.PRIVATE) & cut_extrude4_direction_2_end
    add(cut_extrude4_direction_2_tool3.solids().sort_by_distance((-8, -8, 0))[0], mode=Mode.SUBTRACT)
    # Sketch9 → Cut-Extrude4 direction 2 (cut, up to the surface)
    with BuildSketch(Plane(origin=(0, 0, 0), x_dir=(-1, 0, 0), z_dir=(0, 0, -1)), mode=Mode.PRIVATE) as cut_extrude4_direction_2_sk4:
        with Locations(Location((-8, -8, 0), (0, 0, 45))):
            Circle(SKETCH9_R)
    cut_extrude4_direction_2_tool4 = extrude(cut_extrude4_direction_2_sk4.sketch, amount=CUT_EXTRUDE4_DIRECTION_2_REACH, mode=Mode.PRIVATE) & cut_extrude4_direction_2_end
    add(cut_extrude4_direction_2_tool4.solids().sort_by_distance((8, -8, 0))[0], mode=Mode.SUBTRACT)

    # Sketch10 → Boss-Extrude3 (add)
    with BuildSketch(Plane.XY.offset(21)):
        with BuildLine():
            Line((-22.499080012, -36.149569826), (-28.960959562, -48.732393278))
            ThreePointArc((-28.960959562, -48.732393278), (-27.44641873, -53.444735165), (-22.734076842, -51.930194333))
            Line((-22.734076842, -51.930194333), (-16.272197292, -39.347370882))
            ThreePointArc((-16.272197292, -39.347370882), (1.376257639, -27.966156599), (20.0569058, -37.559559765))
            Line((20.0569058, -37.559559765), (27.723010785, -49.447123338))
            ThreePointArc((27.723010785, -49.447123338), (32.561288987, -50.491663446), (33.605829095, -45.653385243))
            Line((33.605829095, -45.653385243), (25.93972411, -33.765821671))
            ThreePointArc((25.93972411, -33.765821671), (24.90753088, -12.791204222), (42.555985811, -1.409989939))
            Line((42.555985811, -1.409989939), (56.683970347, -0.71473006))
            ThreePointArc((56.683970347, -0.71473006), (60.007707717, 2.95307172), (56.339905937, 6.27680909))
            Line((56.339905937, 6.27680909), (42.211921401, 5.581549211))
            ThreePointArc((42.211921401, 5.581549211), (23.531273241, 15.174952377), (22.499080012, 36.149569826))
            Line((22.499080012, 36.149569826), (28.960959562, 48.732393278))
            ThreePointArc((28.960959562, 48.732393278), (27.44641873, 53.444735165), (22.734076842, 51.930194333))
            Line((22.734076842, 51.930194333), (16.272197292, 39.347370882))
            ThreePointArc((16.272197292, 39.347370882), (-1.376257639, 27.966156599), (-20.0569058, 37.559559765))
            Line((-20.0569058, 37.559559765), (-27.723010785, 49.447123338))
            ThreePointArc((-27.723010785, 49.447123338), (-32.561288987, 50.491663446), (-33.605829095, 45.653385243))
            Line((-33.605829095, 45.653385243), (-25.93972411, 33.765821671))
            ThreePointArc((-25.93972411, 33.765821671), (-24.90753088, 12.791204222), (-42.555985811, 1.409989939))
            Line((-42.555985811, 1.409989939), (-56.683970347, 0.71473006))
            ThreePointArc((-56.683970347, 0.71473006), (-60.007707717, -2.95307172), (-56.339905937, -6.27680909))
            Line((-56.339905937, -6.27680909), (-42.211921401, -5.581549211))
            ThreePointArc((-42.211921401, -5.581549211), (-23.531273241, -15.174952377), (-22.499080012, -36.149569826))
        make_face()
        with Locations((8, -8)):
            Circle(SKETCH10_R, mode=Mode.SUBTRACT)
        with Locations((-8, -8)):
            Circle(SKETCH10_R, mode=Mode.SUBTRACT)
        with Locations((8, 8)):
            Circle(SKETCH10_R, mode=Mode.SUBTRACT)
        with Locations((-8, 8)):
            Circle(SKETCH10_R, mode=Mode.SUBTRACT)
        with BuildLine():
            Line((-1.658312395, 2.5), (1.658312395, 2.5))
            ThreePointArc((1.658312395, 2.5), (0, -3), (-1.658312395, 2.5))
        make_face(mode=Mode.SUBTRACT)
    extrude(amount=BOSS_EXTRUDE3_DEPTH)


solid = part.part
